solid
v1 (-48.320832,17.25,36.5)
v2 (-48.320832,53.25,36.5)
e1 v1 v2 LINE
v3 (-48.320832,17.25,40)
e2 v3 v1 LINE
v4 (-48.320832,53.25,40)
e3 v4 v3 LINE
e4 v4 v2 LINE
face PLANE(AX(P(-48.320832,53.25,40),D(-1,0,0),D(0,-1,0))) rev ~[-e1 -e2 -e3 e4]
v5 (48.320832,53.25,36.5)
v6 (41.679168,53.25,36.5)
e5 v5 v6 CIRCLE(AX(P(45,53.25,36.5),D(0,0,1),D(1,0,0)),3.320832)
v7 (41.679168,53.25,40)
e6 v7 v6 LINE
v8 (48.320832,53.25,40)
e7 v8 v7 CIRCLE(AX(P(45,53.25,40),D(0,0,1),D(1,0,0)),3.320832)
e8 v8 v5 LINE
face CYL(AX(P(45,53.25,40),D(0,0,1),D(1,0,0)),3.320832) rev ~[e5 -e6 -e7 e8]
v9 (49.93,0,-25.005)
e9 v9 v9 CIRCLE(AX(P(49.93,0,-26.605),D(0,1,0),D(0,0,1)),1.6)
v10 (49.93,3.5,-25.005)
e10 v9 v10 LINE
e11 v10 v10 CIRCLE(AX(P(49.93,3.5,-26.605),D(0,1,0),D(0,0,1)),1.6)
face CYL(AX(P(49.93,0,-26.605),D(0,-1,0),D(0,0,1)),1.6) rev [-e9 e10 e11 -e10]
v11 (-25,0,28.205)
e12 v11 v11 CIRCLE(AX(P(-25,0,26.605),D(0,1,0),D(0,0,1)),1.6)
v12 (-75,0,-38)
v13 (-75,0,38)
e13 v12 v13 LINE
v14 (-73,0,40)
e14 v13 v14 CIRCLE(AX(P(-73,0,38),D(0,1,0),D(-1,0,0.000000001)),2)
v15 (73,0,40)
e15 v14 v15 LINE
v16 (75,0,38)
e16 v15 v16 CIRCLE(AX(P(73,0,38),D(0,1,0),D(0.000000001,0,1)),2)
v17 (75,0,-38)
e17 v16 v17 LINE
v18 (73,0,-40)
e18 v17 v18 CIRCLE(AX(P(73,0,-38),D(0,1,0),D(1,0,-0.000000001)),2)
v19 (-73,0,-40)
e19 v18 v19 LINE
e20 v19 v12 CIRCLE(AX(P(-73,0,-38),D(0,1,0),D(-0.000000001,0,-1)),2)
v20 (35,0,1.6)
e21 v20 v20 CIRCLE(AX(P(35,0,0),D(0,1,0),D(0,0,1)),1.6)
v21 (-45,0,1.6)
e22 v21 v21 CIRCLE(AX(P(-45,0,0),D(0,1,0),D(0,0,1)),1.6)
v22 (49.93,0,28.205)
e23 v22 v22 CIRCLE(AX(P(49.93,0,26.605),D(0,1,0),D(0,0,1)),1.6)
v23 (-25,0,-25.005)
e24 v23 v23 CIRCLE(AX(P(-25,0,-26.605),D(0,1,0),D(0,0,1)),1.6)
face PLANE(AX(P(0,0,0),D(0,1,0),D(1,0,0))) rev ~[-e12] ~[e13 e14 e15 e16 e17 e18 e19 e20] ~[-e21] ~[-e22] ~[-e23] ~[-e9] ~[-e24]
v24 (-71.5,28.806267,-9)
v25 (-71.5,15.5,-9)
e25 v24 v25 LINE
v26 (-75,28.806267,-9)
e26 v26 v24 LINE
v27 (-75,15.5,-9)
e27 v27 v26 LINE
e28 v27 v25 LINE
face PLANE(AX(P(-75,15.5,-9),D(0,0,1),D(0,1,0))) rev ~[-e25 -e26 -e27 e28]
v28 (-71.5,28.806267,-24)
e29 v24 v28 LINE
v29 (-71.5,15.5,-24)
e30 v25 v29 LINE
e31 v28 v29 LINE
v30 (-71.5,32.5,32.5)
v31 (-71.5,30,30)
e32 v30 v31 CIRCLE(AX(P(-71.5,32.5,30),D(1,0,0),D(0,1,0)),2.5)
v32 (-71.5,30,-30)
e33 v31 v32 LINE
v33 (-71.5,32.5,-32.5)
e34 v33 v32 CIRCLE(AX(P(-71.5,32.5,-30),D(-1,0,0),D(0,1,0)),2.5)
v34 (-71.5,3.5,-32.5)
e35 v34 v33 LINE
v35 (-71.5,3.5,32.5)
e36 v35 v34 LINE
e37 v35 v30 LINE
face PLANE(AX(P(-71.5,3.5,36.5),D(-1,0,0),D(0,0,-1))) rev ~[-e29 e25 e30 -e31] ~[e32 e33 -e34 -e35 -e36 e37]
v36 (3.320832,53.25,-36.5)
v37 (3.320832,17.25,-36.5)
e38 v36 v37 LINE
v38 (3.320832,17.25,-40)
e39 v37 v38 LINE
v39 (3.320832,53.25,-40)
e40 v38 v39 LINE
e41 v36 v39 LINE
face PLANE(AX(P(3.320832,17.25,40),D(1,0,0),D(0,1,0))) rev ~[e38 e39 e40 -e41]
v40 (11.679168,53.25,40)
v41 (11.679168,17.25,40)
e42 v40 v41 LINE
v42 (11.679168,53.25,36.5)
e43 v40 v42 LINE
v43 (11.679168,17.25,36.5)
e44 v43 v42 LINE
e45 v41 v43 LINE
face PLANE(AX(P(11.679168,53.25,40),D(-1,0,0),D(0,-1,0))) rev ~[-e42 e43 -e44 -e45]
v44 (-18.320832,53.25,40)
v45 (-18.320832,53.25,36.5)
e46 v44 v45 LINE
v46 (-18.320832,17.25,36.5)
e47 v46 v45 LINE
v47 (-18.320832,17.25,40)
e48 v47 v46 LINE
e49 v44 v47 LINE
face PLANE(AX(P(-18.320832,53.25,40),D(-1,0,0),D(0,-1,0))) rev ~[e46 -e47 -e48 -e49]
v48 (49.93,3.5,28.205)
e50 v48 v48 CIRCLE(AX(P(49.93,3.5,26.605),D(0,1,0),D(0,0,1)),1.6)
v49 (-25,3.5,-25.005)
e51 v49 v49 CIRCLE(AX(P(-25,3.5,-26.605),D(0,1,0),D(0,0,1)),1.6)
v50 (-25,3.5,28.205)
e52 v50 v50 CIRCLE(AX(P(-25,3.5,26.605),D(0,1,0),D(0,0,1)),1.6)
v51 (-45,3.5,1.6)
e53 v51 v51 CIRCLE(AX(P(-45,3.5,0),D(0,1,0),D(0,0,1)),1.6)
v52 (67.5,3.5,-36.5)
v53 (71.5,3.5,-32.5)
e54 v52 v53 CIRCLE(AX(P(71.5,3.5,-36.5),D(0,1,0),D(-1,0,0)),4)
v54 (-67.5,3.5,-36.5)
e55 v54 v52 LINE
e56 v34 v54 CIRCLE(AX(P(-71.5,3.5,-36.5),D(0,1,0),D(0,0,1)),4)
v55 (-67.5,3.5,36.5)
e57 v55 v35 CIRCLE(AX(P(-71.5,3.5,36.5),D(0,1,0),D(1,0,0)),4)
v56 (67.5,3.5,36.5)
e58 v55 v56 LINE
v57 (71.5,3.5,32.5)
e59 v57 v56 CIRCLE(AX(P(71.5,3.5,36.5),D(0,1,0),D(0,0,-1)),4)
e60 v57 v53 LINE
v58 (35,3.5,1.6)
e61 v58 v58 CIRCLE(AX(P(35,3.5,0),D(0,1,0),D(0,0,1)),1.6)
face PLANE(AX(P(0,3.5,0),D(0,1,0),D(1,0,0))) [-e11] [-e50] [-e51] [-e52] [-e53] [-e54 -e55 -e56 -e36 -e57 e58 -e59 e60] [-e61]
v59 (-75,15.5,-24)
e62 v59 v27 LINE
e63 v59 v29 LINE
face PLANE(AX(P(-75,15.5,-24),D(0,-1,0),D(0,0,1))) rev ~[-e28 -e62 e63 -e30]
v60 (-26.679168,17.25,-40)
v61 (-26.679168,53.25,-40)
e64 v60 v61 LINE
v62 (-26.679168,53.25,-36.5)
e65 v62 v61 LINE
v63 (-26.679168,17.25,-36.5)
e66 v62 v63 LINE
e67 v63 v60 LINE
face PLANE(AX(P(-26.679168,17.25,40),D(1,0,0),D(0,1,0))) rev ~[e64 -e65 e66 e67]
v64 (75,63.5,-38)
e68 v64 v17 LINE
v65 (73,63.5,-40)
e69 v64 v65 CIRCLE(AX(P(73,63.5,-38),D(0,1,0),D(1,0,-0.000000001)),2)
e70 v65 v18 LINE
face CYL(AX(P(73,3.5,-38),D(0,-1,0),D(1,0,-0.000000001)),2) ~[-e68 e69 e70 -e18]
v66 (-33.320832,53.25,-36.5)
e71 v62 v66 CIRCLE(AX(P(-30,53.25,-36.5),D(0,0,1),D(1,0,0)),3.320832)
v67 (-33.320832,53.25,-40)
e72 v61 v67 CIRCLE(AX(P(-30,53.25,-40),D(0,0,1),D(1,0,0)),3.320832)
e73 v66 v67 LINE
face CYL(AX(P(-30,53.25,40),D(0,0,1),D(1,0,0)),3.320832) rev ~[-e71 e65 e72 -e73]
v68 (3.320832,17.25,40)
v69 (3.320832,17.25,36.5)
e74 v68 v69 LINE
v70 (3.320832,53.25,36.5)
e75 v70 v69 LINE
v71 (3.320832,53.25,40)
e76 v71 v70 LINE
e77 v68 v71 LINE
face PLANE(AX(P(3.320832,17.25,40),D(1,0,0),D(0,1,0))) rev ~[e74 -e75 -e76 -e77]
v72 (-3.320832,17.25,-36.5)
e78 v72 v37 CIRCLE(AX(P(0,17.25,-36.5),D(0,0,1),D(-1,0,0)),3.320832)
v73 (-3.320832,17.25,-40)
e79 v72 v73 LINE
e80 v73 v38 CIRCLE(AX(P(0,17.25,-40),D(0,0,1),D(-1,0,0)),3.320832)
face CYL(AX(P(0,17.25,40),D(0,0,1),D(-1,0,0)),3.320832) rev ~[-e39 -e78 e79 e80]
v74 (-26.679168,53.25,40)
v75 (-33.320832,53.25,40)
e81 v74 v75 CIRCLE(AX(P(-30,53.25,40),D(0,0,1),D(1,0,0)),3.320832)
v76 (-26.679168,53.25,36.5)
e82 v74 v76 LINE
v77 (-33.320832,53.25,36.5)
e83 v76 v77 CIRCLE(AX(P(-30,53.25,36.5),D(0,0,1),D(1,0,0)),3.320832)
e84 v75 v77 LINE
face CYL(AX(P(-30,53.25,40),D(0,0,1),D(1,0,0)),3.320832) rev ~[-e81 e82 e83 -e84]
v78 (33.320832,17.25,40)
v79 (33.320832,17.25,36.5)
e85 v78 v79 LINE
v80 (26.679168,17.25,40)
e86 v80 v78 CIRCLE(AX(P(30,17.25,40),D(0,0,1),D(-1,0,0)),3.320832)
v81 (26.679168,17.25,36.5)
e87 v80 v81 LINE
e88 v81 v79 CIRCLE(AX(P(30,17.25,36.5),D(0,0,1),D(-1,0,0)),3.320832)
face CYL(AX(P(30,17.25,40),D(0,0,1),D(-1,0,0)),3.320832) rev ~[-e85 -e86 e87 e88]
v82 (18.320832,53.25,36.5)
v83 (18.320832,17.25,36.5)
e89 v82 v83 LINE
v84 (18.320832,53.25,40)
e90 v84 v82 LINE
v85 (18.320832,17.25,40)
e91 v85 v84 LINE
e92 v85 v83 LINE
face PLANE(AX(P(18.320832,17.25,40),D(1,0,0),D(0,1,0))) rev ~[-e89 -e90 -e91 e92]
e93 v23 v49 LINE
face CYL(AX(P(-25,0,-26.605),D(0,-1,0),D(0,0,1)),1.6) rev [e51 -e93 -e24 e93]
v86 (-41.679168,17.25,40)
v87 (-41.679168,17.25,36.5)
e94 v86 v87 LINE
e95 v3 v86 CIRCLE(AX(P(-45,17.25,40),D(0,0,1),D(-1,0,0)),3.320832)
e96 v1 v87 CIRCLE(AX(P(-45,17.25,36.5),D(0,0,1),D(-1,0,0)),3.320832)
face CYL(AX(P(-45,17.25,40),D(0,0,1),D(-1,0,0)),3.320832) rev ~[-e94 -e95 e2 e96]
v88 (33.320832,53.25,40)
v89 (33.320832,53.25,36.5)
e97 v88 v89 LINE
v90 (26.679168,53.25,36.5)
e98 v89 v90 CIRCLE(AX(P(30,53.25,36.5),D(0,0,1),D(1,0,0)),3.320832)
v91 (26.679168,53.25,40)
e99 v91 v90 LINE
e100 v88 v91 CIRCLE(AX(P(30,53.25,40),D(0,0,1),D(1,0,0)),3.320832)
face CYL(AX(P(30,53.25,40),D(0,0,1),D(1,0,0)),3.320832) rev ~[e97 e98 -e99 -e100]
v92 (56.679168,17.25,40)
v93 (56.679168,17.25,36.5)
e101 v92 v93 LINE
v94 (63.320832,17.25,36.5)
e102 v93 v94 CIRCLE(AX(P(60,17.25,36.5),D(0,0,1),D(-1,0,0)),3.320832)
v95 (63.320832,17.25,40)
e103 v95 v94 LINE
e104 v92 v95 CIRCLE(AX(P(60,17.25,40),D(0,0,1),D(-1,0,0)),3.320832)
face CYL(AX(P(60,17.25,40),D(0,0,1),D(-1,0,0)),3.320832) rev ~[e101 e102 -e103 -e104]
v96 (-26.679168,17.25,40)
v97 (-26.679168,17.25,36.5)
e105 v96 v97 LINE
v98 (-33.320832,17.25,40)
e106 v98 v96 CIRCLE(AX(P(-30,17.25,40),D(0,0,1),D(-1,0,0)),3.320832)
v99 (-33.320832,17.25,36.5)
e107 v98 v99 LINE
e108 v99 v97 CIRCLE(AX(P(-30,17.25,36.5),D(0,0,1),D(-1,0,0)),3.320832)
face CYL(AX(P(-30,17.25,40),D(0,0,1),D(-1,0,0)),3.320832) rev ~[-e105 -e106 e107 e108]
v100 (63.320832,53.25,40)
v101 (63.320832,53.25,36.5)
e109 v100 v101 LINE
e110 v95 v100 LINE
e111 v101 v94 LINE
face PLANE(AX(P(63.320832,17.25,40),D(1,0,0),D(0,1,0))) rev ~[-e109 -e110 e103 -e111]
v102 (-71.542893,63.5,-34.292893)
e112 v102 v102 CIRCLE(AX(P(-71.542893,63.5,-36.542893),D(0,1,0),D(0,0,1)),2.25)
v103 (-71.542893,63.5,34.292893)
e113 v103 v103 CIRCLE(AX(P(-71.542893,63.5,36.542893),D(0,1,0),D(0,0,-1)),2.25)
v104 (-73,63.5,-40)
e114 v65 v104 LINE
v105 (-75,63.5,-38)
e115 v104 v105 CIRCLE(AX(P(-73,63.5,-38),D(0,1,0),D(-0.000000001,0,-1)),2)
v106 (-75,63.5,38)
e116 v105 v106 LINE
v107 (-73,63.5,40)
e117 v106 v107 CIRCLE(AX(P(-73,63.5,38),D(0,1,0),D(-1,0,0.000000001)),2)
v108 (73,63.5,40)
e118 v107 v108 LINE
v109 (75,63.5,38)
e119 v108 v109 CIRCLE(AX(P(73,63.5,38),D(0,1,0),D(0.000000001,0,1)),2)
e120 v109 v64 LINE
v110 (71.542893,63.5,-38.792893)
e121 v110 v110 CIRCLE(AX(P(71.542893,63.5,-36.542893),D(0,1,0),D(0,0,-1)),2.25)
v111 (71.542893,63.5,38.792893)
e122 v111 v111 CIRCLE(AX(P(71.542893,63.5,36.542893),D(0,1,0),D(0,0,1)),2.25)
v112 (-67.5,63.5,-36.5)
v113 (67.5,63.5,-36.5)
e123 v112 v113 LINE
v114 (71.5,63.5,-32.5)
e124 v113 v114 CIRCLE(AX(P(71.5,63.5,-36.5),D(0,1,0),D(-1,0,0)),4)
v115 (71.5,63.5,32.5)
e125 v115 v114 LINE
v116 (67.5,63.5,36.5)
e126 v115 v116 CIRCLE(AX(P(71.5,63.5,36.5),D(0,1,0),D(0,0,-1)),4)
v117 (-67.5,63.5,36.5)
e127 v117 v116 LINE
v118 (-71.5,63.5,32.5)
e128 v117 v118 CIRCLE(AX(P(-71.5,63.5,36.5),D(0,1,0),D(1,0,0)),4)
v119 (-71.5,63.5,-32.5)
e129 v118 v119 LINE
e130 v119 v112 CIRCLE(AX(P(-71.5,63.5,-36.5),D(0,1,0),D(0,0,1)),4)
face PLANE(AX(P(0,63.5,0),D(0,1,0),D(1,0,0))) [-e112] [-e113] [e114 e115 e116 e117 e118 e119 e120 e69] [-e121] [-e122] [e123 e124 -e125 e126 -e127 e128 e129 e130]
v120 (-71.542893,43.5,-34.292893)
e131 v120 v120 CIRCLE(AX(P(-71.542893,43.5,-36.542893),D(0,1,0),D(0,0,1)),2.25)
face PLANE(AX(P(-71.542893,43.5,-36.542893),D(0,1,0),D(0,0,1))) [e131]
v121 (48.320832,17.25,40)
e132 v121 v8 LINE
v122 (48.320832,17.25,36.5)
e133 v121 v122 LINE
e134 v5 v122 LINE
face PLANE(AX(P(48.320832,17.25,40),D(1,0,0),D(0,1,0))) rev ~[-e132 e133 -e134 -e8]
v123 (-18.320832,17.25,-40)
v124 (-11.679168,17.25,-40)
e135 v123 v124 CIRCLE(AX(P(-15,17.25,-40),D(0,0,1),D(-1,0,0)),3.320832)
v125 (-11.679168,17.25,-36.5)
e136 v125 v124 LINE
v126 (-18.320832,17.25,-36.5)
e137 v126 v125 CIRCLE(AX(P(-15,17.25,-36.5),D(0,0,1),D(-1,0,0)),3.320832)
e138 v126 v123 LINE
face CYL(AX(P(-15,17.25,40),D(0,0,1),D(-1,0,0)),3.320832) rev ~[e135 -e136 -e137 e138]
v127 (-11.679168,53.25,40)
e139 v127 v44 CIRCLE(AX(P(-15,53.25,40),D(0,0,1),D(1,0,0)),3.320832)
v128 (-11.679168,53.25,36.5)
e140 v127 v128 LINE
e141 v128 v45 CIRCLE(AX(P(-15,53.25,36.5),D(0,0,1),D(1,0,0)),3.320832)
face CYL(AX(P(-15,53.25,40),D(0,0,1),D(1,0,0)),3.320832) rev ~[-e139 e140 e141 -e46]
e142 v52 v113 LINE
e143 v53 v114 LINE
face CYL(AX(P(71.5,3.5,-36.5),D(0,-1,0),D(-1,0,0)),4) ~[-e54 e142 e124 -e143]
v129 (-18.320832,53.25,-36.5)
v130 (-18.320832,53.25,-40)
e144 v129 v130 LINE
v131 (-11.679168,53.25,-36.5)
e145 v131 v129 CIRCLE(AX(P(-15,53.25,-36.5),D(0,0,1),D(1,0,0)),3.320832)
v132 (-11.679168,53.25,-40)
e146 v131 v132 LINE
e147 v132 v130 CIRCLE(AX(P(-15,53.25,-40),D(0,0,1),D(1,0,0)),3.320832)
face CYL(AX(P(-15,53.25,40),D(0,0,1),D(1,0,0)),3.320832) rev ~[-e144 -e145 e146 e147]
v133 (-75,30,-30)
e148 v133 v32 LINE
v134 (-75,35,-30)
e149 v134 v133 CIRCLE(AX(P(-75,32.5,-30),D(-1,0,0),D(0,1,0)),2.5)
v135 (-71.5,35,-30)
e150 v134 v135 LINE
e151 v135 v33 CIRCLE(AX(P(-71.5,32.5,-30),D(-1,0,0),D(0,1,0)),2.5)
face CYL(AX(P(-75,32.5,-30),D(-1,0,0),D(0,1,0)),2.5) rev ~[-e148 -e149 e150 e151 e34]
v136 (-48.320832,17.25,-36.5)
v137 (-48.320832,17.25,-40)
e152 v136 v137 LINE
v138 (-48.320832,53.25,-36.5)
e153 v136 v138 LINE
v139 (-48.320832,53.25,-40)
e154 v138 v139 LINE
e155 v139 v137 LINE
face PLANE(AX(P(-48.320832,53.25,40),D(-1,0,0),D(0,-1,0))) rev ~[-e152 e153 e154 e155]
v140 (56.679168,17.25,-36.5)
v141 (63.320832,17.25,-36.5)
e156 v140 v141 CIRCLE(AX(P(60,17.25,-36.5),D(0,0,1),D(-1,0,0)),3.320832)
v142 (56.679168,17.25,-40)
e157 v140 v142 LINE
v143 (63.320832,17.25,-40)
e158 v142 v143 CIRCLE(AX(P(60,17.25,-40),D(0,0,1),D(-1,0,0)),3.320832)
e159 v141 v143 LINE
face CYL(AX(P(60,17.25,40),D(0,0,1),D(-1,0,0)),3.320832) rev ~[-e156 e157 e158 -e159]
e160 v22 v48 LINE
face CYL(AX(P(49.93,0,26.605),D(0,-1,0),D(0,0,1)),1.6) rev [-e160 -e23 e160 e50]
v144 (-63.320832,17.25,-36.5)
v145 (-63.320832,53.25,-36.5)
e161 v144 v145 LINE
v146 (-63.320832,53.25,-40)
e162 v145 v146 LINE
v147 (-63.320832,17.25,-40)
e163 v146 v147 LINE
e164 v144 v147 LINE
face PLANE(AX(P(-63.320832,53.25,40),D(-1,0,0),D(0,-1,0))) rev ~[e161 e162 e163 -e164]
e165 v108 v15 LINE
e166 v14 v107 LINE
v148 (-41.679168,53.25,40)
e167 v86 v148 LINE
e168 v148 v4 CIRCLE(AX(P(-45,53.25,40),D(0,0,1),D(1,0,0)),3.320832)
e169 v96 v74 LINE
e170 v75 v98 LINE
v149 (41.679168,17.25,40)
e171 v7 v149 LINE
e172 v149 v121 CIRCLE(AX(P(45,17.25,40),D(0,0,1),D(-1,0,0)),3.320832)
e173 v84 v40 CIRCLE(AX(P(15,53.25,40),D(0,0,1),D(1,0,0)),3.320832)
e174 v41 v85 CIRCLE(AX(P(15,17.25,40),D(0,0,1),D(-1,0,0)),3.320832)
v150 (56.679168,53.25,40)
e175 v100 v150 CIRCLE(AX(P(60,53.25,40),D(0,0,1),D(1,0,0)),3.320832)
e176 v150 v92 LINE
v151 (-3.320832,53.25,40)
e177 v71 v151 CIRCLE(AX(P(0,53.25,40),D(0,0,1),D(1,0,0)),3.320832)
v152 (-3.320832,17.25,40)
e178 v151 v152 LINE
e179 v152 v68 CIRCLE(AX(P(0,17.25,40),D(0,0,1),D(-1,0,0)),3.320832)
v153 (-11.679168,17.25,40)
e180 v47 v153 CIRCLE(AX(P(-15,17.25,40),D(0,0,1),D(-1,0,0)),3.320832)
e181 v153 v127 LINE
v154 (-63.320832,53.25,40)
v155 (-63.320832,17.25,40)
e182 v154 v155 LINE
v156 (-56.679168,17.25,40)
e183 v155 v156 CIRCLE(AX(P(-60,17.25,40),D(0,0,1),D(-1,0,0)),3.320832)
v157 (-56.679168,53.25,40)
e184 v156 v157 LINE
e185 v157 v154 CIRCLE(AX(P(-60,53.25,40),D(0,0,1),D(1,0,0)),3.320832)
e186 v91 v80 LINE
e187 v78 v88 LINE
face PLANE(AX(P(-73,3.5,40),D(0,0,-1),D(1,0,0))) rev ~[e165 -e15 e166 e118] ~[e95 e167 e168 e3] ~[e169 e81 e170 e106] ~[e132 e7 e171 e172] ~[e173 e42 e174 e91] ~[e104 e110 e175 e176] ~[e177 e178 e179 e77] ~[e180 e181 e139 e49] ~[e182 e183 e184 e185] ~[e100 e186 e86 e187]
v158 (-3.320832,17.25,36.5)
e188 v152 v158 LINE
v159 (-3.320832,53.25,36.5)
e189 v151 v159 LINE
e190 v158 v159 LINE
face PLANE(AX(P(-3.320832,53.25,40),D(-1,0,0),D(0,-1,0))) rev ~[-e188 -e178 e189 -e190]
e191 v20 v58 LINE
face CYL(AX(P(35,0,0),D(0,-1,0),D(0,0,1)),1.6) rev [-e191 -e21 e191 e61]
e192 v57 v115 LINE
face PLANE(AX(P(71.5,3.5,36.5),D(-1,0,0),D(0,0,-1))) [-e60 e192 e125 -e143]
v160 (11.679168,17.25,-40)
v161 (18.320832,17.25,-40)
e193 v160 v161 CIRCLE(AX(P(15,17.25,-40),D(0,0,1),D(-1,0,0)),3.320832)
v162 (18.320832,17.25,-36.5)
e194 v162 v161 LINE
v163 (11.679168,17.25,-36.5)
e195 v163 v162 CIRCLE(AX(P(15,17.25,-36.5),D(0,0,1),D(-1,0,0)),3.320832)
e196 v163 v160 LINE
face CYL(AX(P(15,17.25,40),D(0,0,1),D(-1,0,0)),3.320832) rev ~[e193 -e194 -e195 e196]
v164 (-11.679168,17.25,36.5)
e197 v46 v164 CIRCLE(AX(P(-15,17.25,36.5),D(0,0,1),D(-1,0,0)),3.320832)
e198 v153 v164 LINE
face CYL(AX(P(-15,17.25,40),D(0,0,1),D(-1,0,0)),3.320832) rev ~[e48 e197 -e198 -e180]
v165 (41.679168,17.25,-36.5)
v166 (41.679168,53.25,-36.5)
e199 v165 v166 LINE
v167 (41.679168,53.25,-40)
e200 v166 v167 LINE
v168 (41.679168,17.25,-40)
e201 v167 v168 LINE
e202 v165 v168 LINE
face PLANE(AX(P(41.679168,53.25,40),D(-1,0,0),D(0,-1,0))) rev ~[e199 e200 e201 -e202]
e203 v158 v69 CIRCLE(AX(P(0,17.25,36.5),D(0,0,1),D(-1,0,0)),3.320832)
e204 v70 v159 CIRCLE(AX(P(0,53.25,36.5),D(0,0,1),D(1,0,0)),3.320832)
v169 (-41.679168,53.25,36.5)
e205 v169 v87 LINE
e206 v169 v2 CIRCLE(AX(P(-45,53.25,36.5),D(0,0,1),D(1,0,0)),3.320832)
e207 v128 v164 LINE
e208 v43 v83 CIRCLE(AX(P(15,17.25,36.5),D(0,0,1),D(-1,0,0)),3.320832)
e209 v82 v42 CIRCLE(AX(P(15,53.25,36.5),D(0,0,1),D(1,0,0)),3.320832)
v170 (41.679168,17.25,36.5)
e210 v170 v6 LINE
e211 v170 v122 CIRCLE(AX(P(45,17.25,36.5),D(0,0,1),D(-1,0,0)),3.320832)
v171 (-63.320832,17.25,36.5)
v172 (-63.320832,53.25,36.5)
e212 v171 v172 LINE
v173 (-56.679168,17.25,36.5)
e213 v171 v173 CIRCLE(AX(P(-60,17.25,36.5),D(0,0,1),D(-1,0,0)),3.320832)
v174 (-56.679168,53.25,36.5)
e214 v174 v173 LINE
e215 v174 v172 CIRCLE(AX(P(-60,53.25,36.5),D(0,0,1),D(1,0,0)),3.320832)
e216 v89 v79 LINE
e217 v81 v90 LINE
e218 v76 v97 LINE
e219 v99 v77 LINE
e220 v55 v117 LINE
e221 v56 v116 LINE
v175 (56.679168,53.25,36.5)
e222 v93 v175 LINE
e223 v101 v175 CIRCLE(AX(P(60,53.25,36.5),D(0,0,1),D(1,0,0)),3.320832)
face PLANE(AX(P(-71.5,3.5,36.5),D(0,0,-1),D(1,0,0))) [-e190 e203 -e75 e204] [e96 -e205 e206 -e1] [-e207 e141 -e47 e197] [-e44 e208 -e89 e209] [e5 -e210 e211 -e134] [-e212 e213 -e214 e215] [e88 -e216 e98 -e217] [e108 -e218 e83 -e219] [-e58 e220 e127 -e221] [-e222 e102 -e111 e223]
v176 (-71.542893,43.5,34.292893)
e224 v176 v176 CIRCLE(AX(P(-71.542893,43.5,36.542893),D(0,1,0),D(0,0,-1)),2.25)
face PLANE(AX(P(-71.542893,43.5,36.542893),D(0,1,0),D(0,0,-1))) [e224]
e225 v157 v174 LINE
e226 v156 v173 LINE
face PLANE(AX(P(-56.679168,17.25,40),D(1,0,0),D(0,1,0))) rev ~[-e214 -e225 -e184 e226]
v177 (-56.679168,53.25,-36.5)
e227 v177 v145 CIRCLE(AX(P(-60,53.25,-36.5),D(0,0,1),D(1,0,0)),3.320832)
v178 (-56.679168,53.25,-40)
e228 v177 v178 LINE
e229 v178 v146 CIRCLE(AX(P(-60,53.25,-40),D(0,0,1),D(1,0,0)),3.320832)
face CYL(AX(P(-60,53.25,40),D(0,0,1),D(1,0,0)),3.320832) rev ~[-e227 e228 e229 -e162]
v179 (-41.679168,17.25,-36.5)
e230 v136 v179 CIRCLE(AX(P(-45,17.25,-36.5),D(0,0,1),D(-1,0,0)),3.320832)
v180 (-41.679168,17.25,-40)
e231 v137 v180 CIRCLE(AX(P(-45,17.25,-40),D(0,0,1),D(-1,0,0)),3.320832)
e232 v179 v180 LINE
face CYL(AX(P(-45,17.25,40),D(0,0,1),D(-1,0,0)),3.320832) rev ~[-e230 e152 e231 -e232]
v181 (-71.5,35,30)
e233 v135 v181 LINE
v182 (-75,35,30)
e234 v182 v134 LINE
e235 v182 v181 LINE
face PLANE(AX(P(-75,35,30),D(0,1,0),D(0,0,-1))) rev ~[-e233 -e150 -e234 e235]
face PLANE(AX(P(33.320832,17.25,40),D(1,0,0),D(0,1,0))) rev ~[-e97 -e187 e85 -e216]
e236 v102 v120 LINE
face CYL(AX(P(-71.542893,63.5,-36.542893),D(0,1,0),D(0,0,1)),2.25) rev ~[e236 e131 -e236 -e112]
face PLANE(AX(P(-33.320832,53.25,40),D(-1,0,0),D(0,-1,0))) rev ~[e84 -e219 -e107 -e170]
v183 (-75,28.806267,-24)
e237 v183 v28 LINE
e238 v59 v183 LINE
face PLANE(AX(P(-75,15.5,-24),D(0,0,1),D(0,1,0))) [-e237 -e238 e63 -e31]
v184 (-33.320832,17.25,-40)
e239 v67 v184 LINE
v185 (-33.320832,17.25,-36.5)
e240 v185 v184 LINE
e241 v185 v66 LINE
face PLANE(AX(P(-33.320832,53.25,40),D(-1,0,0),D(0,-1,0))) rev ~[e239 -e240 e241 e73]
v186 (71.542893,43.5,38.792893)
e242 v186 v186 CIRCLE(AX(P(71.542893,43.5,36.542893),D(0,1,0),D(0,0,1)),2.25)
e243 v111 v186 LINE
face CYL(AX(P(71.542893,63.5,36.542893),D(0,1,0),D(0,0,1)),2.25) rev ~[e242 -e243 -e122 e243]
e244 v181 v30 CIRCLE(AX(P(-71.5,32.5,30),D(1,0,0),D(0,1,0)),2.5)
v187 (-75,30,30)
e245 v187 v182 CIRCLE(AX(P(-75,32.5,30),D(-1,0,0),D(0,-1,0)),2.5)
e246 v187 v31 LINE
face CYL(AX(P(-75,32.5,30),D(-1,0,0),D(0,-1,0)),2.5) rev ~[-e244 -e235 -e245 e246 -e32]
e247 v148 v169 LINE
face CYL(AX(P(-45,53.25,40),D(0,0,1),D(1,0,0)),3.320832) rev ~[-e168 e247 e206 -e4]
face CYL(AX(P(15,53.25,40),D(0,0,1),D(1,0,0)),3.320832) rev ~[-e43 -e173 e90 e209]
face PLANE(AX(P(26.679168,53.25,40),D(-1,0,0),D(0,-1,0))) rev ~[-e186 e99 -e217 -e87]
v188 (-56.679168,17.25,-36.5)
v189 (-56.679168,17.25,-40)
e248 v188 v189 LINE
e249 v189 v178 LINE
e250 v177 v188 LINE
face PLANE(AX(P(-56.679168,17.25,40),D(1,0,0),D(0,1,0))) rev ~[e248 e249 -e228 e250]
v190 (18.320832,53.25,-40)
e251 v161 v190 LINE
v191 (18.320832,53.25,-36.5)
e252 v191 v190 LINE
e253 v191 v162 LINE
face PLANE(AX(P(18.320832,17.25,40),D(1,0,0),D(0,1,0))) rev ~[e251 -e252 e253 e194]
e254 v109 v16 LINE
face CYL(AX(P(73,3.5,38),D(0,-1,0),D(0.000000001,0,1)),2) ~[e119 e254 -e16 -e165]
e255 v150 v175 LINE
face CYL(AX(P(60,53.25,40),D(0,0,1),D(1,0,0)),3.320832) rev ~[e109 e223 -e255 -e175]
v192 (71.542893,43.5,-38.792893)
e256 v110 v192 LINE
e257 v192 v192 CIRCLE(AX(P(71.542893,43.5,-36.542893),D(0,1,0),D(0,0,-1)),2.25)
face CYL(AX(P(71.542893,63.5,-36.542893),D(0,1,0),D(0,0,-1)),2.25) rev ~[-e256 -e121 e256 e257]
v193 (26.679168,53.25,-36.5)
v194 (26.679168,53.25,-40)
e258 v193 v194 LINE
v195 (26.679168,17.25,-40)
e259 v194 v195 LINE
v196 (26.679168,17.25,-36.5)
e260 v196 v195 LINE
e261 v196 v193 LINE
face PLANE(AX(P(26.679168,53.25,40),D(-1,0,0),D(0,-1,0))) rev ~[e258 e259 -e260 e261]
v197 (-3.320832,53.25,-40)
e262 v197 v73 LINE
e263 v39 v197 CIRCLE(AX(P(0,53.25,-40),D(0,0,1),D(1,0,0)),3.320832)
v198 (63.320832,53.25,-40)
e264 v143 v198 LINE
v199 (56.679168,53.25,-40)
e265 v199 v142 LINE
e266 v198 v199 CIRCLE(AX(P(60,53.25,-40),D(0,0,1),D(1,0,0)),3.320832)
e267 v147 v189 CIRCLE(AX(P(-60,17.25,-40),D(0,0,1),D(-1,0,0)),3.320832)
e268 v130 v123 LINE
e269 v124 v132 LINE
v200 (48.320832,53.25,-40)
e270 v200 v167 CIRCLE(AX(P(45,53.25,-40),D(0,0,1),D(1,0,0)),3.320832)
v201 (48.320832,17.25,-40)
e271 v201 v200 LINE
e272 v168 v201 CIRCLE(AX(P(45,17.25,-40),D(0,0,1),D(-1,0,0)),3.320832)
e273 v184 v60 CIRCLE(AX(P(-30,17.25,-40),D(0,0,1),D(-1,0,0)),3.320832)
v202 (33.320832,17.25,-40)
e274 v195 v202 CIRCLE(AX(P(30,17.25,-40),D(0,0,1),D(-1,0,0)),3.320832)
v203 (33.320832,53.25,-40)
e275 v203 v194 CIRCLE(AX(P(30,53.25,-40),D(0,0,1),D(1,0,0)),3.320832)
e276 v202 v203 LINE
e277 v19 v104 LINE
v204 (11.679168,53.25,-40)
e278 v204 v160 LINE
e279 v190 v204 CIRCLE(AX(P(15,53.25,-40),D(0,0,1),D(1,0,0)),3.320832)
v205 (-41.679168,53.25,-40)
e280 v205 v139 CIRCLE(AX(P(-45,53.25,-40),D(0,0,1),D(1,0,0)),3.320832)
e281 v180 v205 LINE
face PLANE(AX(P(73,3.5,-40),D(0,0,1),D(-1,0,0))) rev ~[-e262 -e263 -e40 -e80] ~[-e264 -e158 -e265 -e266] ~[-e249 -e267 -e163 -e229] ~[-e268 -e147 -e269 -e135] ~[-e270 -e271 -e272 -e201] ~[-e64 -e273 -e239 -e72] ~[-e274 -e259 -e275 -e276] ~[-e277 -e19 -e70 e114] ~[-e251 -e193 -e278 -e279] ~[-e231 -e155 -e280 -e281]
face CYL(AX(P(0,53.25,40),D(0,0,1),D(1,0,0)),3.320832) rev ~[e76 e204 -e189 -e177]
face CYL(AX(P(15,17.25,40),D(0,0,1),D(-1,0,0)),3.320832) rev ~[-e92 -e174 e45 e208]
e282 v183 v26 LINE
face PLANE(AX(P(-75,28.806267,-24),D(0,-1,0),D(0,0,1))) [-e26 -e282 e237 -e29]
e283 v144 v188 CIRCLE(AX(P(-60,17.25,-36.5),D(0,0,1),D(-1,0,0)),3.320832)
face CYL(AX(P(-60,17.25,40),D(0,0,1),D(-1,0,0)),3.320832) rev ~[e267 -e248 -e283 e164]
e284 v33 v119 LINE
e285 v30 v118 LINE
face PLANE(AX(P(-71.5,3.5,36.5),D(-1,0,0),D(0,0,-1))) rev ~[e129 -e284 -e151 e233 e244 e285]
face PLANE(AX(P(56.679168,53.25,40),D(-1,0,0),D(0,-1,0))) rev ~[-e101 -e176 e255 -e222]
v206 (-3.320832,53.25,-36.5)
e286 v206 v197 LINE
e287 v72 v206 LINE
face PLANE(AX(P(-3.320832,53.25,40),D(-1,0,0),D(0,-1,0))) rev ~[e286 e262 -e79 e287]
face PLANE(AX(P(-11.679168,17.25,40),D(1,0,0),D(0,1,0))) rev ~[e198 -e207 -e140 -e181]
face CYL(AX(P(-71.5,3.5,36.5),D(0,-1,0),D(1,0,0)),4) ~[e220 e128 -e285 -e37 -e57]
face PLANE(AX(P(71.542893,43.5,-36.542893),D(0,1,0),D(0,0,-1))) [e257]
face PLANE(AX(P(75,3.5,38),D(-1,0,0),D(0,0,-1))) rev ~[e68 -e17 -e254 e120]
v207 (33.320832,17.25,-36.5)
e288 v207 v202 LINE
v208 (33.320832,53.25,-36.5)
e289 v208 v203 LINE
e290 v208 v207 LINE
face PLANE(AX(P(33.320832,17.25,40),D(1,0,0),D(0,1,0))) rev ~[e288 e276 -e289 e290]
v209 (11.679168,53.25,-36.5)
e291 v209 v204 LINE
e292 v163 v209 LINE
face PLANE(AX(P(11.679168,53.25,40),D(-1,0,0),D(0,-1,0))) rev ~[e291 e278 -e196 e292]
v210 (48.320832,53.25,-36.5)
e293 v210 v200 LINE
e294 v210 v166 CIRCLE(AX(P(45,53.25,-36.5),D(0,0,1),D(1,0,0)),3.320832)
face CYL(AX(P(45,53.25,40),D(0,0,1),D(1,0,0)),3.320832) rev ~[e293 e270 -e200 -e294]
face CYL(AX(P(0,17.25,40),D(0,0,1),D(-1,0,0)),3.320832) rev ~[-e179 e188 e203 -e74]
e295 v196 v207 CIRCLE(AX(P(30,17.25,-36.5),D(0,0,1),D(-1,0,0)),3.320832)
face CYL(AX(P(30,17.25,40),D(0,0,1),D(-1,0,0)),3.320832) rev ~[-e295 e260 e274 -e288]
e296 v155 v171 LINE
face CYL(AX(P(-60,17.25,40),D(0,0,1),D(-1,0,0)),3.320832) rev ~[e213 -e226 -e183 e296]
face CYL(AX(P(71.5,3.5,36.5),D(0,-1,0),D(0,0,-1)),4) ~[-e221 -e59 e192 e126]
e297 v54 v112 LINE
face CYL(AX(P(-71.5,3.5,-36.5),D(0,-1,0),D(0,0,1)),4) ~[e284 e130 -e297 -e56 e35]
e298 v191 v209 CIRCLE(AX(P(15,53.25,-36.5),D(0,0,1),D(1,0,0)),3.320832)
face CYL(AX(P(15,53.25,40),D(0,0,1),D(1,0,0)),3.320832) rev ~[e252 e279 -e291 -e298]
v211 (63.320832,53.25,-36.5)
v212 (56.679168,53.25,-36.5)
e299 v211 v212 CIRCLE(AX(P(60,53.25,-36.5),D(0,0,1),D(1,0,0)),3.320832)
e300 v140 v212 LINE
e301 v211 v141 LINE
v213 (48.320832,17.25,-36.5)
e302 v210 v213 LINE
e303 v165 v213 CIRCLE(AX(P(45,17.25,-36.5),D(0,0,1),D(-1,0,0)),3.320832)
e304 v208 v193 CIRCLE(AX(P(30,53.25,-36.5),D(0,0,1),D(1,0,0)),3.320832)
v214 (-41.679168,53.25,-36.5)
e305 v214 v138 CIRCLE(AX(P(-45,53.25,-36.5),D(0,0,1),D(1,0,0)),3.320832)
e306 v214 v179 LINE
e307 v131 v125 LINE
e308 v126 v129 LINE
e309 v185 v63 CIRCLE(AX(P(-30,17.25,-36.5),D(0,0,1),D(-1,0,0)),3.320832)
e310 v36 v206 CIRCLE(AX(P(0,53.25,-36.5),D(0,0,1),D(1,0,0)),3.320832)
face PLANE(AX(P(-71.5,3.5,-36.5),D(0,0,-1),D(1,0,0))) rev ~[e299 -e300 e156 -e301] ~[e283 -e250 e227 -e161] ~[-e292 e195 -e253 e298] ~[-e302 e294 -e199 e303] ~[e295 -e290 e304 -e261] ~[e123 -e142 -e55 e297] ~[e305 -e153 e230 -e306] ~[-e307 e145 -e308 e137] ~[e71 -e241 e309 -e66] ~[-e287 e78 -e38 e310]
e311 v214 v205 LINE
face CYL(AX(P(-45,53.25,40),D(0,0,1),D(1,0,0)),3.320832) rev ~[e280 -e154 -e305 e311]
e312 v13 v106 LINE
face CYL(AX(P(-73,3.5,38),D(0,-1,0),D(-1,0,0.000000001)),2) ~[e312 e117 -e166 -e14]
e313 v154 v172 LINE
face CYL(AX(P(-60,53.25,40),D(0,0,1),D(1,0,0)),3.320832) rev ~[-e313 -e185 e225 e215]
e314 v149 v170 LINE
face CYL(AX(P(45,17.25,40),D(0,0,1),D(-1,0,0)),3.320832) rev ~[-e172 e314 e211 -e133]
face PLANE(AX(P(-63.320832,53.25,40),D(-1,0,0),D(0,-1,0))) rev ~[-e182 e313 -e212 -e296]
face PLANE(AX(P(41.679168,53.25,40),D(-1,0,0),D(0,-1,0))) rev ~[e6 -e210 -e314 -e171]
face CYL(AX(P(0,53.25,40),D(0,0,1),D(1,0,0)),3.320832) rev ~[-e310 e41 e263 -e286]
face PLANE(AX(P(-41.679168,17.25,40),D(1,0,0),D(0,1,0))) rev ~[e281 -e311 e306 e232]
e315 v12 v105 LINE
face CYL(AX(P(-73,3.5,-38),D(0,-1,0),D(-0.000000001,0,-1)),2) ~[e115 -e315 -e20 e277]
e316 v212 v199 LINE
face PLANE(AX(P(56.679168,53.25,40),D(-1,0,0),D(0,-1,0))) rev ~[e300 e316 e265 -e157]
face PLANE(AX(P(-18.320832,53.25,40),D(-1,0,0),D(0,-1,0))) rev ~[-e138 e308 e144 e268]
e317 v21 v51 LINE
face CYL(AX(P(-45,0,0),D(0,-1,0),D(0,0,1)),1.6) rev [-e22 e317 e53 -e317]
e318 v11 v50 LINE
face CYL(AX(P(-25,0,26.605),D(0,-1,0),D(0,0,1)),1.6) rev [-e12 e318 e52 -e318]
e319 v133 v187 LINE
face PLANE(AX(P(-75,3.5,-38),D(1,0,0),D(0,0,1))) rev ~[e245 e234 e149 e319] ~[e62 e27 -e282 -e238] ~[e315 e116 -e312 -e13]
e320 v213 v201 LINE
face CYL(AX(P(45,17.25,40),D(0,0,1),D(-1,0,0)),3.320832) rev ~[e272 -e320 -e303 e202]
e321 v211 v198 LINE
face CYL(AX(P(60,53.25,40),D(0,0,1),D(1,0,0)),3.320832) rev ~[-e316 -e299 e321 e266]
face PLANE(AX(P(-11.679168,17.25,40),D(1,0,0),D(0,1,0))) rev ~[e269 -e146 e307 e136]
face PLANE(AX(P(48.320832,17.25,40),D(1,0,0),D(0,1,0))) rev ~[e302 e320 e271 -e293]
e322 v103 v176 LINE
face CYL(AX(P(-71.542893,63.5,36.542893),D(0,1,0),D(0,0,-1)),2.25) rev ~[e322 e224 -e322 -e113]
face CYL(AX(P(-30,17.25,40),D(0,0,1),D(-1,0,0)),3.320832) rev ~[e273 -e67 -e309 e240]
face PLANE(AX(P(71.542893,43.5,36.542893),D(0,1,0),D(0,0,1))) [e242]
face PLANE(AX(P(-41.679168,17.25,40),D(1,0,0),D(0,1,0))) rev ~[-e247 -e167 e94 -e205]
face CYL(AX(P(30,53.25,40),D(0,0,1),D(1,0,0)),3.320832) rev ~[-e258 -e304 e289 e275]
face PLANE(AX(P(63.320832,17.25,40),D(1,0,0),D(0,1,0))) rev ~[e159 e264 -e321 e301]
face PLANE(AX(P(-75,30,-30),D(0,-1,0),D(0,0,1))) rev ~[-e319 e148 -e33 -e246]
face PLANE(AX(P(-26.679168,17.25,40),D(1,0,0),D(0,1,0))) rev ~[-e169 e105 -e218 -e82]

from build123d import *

# Parameters (mm, degrees)
SKETCH1_R           = 1.6
BOSS_EXTRUDE1_DEPTH = 3.5
SKETCH2_W           = 143
SKETCH2_H           = 73
BOSS_EXTRUDE2_DEPTH = 60
CUT_EXTRUDE1_DEPTH  = 127.71720483
CUT_EXTRUDE2_REACH  = 169.727
SKETCH5_W           = 15
SKETCH5_H           = 13.306266554
SKETCH6_R           = 2.25
CUT_EXTRUDE3_DEPTH  = 20


with BuildPart() as part:
    # Sketch1 → Boss-Extrude1 (new body)
    with BuildSketch(Plane(origin=(0, 0, 0), x_dir=(1, 0, 0), z_dir=(0, 1, 0))):
        with BuildLine():
            Line((-73, -40), (73, -40))
            ThreePointArc((73, -40), (74.414213562, -39.414213562), (75, -38))
            Line((75, -38), (75, 38))
            ThreePointArc((75, 38), (74.414213562, 39.414213562), (73, 40))
            Line((73, 40), (-73, 40))
            ThreePointArc((-73, 40), (-74.414213562, 39.414213562), (-75, 38))
            Line((-75, 38), (-75, -38))
            ThreePointArc((-75, -38), (-74.414213562, -39.414213562), (-73, -40))
        make_face()
        with Locations(Location((-25, 26.605, 0), (0, 0, 270))):
            Circle(SKETCH1_R, mode=Mode.SUBTRACT)
        with Locations(Location((49.93, 26.605, 0), (0, 0, 270))):
            Circle(SKETCH1_R, mode=Mode.SUBTRACT)
        with Locations(Location((49.93, -26.605, 0), (0, 0, 270))):
            Circle(SKETCH1_R, mode=Mode.SUBTRACT)
        with Locations(Location((-25, -26.605, 0), (0, 0, 270))):
            Circle(SKETCH1_R, mode=Mode.SUBTRACT)
        with Locations(Location((-45, 0, 0), (0, 0, 270))):
            Circle(SKETCH1_R, mode=Mode.SUBTRACT)
        with Locations(Location((35, 0, 0), (0, 0, 270))):
            Circle(SKETCH1_R, mode=Mode.SUBTRACT)
    extrude(amount=BOSS_EXTRUDE1_DEPTH)

    # Sketch2 → Boss-Extrude2 (add)
    # profile 1 of 5: a face of its own
    with BuildSketch(Plane(origin=(0, 3.5, 0), x_dir=(1, 0, 0), z_dir=(0, 1, 0))):
        with BuildLine():
            Line((73, 40), (-73, 40))
            ThreePointArc((-73, 40), (-74.414213562, 39.414213562), (-75, 38))
            Line((-75, 38), (-75, -38))
            ThreePointArc((-75, -38), (-74.414213562, -39.414213562), (-73, -40))
            Line((-73, -40), (73, -40))
            ThreePointArc((73, -40), (74.414213562, -39.414213562), (75, -38))
            Line((75, -38), (75, 38))
            ThreePointArc((75, 38), (74.414213562, 39.414213562), (73, 40))
        make_face()
        Rectangle(SKETCH2_W, SKETCH2_H, mode=Mode.SUBTRACT)
    # profile 2 of 5: a face of its own
    with BuildSketch(Plane(origin=(0, 3.5, 0), x_dir=(1, 0, 0), z_dir=(0, 1, 0))):
        with BuildLine():
            Line((-67.5, 36.5), (-71.5, 36.5))
            Line((-71.5, 36.5), (-71.5, 32.5))
            ThreePointArc((-71.5, 32.5), (-68.671572875, 33.671572875), (-67.5, 36.5))
        make_face()
    # profile 3 of 5: a face of its own
    with BuildSketch(Plane(origin=(0, 3.5, 0), x_dir=(1, 0, 0), z_dir=(0, 1, 0))):
        with BuildLine():
            ThreePointArc((-67.5, -36.5), (-68.671572875, -33.671572875), (-71.5, -32.5))
            Line((-71.5, -32.5), (-71.5, -36.5))
            Line((-71.5, -36.5), (-67.5, -36.5))
        make_face()
    # profile 4 of 5: a face of its own
    with BuildSketch(Plane(origin=(0, 3.5, 0), x_dir=(1, 0, 0), z_dir=(0, 1, 0))):
        with BuildLine():
            Line((71.5, 36.5), (67.5, 36.5))
            ThreePointArc((67.5, 36.5), (68.671572875, 33.671572875), (71.5, 32.5))
            Line((71.5, 32.5), (71.5, 36.5))
        make_face()
    # profile 5 of 5: a face of its own
    with BuildSketch(Plane(origin=(0, 3.5, 0), x_dir=(1, 0, 0), z_dir=(0, 1, 0))):
        with BuildLine():
            ThreePointArc((71.5, -32.5), (68.671572875, -33.671572875), (67.5, -36.5))
            Line((67.5, -36.5), (71.5, -36.5))
            Line((71.5, -36.5), (71.5, -32.5))
        make_face()
    extrude(amount=BOSS_EXTRUDE2_DEPTH)

    # Sketch3 → Cut-Extrude1 (cut, through all)
    with BuildSketch(Plane.XY.offset(40)):
        with BuildLine():
            Line((63.32083214, 17.25), (63.32083214, 53.25))
            ThreePointArc((63.32083214, 53.25), (60, 56.57083214), (56.67916786, 53.25))
            Line((56.67916786, 53.25), (56.67916786, 17.25))
            ThreePointArc((56.67916786, 17.25), (60, 13.92916786), (63.32083214, 17.25))
        make_face()
        with BuildLine():
            Line((48.32083214, 17.25), (48.32083214, 53.25))
            ThreePointArc((48.32083214, 53.25), (45, 56.57083214), (41.67916786, 53.25))
            Line((41.67916786, 53.25), (41.67916786, 17.25))
            ThreePointArc((41.67916786, 17.25), (45, 13.92916786), (48.32083214, 17.25))
        make_face()
        with BuildLine():
            Line((33.32083214, 17.25), (33.32083214, 53.25))
            ThreePointArc((33.32083214, 53.25), (30, 56.57083214), (26.67916786, 53.25))
            Line((26.67916786, 53.25), (26.67916786, 17.25))
            ThreePointArc((26.67916786, 17.25), (30, 13.92916786), (33.32083214, 17.25))
        make_face()
        with BuildLine():
            Line((18.32083214, 17.25), (18.32083214, 53.25))
            ThreePointArc((18.32083214, 53.25), (15, 56.57083214), (11.67916786, 53.25))
            Line((11.67916786, 53.25), (11.67916786, 17.25))
            ThreePointArc((11.67916786, 17.25), (15, 13.92916786), (18.32083214, 17.25))
        make_face()
        with BuildLine():
            Line((3.32083214, 17.25), (3.32083214, 53.25))
            ThreePointArc((3.32083214, 53.25), (0, 56.57083214), (-3.32083214, 53.25))
            Line((-3.32083214, 53.25), (-3.32083214, 17.25))
            ThreePointArc((-3.32083214, 17.25), (0, 13.92916786), (3.32083214, 17.25))
        make_face()
        with BuildLine():
            Line((-11.67916786, 17.25), (-11.67916786, 53.25))
            ThreePointArc((-11.67916786, 53.25), (-15, 56.57083214), (-18.32083214, 53.25))
            Line((-18.32083214, 53.25), (-18.32083214, 17.25))
            ThreePointArc((-18.32083214, 17.25), (-15, 13.92916786), (-11.67916786, 17.25))
        make_face()
        with BuildLine():
            Line((-26.67916786, 17.25), (-26.67916786, 53.25))
            ThreePointArc((-26.67916786, 53.25), (-30, 56.57083214), (-33.32083214, 53.25))
            Line((-33.32083214, 53.25), (-33.32083214, 17.25))
            ThreePointArc((-33.32083214, 17.25), (-30, 13.92916786), (-26.67916786, 17.25))
        make_face()
        with BuildLine():
            Line((-41.67916786, 17.25), (-41.67916786, 53.25))
            ThreePointArc((-41.67916786, 53.25), (-45, 56.57083214), (-48.32083214, 53.25))
            Line((-48.32083214, 53.25), (-48.32083214, 17.25))
            ThreePointArc((-48.32083214, 17.25), (-45, 13.92916786), (-41.67916786, 17.25))
        make_face()
        with BuildLine():
            Line((-56.67916786, 17.25), (-56.67916786, 53.25))
            ThreePointArc((-56.67916786, 53.25), (-60, 56.57083214), (-63.32083214, 53.25))
            Line((-63.32083214, 53.25), (-63.32083214, 17.25))
            ThreePointArc((-63.32083214, 17.25), (-60, 13.92916786), (-56.67916786, 17.25))
        make_face()
    extrude(amount=-CUT_EXTRUDE1_DEPTH, mode=Mode.SUBTRACT)

    # Sketch5 → Cut-Extrude2 (cut, up to next)
    with BuildSketch(Plane.ZY.offset(75), mode=Mode.PRIVATE) as cut_extrude2_sk1:
        with Locations((-16.5, 22.153133277)):
            Rectangle(SKETCH5_W, SKETCH5_H)
    cut_extrude2_tool1 = extrude(cut_extrude2_sk1.sketch, amount=-CUT_EXTRUDE2_REACH, mode=Mode.PRIVATE) & part.part
    # Sketch5 → Cut-Extrude2 (cut, up to next)
    with BuildSketch(Plane.ZY.offset(75), mode=Mode.PRIVATE) as cut_extrude2_sk2:
        with BuildLine():
            Line((30, 35), (-30, 35))
            ThreePointArc((-30, 35), (-32.5, 32.5), (-30, 30))
            Line((-30, 30), (30, 30))
            ThreePointArc((30, 30), (32.5, 32.5), (30, 35))
        make_face()
    cut_extrude2_tool2 = extrude(cut_extrude2_sk2.sketch, amount=-CUT_EXTRUDE2_REACH, mode=Mode.PRIVATE) & part.part
    add(cut_extrude2_tool1.solids().sort_by_distance((-75, 22.153133, -16.5))[0], mode=Mode.SUBTRACT)
    add(cut_extrude2_tool2.solids().sort_by_distance((-75, 32.5, 0))[0], mode=Mode.SUBTRACT)

    # Sketch6 → Cut-Extrude3 (cut)
    with BuildSketch(Plane(origin=(0, 63.5, 0), x_dir=(1, 0, 0), z_dir=(0, 1, 0))):
        with Locations(Location((-71.542893219, 36.542893219, 0), (0, 0, 270))):
            Circle(SKETCH6_R)
        with Locations(Location((71.542893219, 36.542893219, 0), (0, 0, 90))):
            Circle(SKETCH6_R)
        with Locations(Location((71.542893219, -36.542893219, 0), (0, 0, 270))):
            Circle(SKETCH6_R)
        with Locations(Location((-71.542893219, -36.542893219, 0), (0, 0, 90))):
            Circle(SKETCH6_R)
    extrude(amount=-CUT_EXTRUDE3_DEPTH, mode=Mode.SUBTRACT)


solid = part.part
